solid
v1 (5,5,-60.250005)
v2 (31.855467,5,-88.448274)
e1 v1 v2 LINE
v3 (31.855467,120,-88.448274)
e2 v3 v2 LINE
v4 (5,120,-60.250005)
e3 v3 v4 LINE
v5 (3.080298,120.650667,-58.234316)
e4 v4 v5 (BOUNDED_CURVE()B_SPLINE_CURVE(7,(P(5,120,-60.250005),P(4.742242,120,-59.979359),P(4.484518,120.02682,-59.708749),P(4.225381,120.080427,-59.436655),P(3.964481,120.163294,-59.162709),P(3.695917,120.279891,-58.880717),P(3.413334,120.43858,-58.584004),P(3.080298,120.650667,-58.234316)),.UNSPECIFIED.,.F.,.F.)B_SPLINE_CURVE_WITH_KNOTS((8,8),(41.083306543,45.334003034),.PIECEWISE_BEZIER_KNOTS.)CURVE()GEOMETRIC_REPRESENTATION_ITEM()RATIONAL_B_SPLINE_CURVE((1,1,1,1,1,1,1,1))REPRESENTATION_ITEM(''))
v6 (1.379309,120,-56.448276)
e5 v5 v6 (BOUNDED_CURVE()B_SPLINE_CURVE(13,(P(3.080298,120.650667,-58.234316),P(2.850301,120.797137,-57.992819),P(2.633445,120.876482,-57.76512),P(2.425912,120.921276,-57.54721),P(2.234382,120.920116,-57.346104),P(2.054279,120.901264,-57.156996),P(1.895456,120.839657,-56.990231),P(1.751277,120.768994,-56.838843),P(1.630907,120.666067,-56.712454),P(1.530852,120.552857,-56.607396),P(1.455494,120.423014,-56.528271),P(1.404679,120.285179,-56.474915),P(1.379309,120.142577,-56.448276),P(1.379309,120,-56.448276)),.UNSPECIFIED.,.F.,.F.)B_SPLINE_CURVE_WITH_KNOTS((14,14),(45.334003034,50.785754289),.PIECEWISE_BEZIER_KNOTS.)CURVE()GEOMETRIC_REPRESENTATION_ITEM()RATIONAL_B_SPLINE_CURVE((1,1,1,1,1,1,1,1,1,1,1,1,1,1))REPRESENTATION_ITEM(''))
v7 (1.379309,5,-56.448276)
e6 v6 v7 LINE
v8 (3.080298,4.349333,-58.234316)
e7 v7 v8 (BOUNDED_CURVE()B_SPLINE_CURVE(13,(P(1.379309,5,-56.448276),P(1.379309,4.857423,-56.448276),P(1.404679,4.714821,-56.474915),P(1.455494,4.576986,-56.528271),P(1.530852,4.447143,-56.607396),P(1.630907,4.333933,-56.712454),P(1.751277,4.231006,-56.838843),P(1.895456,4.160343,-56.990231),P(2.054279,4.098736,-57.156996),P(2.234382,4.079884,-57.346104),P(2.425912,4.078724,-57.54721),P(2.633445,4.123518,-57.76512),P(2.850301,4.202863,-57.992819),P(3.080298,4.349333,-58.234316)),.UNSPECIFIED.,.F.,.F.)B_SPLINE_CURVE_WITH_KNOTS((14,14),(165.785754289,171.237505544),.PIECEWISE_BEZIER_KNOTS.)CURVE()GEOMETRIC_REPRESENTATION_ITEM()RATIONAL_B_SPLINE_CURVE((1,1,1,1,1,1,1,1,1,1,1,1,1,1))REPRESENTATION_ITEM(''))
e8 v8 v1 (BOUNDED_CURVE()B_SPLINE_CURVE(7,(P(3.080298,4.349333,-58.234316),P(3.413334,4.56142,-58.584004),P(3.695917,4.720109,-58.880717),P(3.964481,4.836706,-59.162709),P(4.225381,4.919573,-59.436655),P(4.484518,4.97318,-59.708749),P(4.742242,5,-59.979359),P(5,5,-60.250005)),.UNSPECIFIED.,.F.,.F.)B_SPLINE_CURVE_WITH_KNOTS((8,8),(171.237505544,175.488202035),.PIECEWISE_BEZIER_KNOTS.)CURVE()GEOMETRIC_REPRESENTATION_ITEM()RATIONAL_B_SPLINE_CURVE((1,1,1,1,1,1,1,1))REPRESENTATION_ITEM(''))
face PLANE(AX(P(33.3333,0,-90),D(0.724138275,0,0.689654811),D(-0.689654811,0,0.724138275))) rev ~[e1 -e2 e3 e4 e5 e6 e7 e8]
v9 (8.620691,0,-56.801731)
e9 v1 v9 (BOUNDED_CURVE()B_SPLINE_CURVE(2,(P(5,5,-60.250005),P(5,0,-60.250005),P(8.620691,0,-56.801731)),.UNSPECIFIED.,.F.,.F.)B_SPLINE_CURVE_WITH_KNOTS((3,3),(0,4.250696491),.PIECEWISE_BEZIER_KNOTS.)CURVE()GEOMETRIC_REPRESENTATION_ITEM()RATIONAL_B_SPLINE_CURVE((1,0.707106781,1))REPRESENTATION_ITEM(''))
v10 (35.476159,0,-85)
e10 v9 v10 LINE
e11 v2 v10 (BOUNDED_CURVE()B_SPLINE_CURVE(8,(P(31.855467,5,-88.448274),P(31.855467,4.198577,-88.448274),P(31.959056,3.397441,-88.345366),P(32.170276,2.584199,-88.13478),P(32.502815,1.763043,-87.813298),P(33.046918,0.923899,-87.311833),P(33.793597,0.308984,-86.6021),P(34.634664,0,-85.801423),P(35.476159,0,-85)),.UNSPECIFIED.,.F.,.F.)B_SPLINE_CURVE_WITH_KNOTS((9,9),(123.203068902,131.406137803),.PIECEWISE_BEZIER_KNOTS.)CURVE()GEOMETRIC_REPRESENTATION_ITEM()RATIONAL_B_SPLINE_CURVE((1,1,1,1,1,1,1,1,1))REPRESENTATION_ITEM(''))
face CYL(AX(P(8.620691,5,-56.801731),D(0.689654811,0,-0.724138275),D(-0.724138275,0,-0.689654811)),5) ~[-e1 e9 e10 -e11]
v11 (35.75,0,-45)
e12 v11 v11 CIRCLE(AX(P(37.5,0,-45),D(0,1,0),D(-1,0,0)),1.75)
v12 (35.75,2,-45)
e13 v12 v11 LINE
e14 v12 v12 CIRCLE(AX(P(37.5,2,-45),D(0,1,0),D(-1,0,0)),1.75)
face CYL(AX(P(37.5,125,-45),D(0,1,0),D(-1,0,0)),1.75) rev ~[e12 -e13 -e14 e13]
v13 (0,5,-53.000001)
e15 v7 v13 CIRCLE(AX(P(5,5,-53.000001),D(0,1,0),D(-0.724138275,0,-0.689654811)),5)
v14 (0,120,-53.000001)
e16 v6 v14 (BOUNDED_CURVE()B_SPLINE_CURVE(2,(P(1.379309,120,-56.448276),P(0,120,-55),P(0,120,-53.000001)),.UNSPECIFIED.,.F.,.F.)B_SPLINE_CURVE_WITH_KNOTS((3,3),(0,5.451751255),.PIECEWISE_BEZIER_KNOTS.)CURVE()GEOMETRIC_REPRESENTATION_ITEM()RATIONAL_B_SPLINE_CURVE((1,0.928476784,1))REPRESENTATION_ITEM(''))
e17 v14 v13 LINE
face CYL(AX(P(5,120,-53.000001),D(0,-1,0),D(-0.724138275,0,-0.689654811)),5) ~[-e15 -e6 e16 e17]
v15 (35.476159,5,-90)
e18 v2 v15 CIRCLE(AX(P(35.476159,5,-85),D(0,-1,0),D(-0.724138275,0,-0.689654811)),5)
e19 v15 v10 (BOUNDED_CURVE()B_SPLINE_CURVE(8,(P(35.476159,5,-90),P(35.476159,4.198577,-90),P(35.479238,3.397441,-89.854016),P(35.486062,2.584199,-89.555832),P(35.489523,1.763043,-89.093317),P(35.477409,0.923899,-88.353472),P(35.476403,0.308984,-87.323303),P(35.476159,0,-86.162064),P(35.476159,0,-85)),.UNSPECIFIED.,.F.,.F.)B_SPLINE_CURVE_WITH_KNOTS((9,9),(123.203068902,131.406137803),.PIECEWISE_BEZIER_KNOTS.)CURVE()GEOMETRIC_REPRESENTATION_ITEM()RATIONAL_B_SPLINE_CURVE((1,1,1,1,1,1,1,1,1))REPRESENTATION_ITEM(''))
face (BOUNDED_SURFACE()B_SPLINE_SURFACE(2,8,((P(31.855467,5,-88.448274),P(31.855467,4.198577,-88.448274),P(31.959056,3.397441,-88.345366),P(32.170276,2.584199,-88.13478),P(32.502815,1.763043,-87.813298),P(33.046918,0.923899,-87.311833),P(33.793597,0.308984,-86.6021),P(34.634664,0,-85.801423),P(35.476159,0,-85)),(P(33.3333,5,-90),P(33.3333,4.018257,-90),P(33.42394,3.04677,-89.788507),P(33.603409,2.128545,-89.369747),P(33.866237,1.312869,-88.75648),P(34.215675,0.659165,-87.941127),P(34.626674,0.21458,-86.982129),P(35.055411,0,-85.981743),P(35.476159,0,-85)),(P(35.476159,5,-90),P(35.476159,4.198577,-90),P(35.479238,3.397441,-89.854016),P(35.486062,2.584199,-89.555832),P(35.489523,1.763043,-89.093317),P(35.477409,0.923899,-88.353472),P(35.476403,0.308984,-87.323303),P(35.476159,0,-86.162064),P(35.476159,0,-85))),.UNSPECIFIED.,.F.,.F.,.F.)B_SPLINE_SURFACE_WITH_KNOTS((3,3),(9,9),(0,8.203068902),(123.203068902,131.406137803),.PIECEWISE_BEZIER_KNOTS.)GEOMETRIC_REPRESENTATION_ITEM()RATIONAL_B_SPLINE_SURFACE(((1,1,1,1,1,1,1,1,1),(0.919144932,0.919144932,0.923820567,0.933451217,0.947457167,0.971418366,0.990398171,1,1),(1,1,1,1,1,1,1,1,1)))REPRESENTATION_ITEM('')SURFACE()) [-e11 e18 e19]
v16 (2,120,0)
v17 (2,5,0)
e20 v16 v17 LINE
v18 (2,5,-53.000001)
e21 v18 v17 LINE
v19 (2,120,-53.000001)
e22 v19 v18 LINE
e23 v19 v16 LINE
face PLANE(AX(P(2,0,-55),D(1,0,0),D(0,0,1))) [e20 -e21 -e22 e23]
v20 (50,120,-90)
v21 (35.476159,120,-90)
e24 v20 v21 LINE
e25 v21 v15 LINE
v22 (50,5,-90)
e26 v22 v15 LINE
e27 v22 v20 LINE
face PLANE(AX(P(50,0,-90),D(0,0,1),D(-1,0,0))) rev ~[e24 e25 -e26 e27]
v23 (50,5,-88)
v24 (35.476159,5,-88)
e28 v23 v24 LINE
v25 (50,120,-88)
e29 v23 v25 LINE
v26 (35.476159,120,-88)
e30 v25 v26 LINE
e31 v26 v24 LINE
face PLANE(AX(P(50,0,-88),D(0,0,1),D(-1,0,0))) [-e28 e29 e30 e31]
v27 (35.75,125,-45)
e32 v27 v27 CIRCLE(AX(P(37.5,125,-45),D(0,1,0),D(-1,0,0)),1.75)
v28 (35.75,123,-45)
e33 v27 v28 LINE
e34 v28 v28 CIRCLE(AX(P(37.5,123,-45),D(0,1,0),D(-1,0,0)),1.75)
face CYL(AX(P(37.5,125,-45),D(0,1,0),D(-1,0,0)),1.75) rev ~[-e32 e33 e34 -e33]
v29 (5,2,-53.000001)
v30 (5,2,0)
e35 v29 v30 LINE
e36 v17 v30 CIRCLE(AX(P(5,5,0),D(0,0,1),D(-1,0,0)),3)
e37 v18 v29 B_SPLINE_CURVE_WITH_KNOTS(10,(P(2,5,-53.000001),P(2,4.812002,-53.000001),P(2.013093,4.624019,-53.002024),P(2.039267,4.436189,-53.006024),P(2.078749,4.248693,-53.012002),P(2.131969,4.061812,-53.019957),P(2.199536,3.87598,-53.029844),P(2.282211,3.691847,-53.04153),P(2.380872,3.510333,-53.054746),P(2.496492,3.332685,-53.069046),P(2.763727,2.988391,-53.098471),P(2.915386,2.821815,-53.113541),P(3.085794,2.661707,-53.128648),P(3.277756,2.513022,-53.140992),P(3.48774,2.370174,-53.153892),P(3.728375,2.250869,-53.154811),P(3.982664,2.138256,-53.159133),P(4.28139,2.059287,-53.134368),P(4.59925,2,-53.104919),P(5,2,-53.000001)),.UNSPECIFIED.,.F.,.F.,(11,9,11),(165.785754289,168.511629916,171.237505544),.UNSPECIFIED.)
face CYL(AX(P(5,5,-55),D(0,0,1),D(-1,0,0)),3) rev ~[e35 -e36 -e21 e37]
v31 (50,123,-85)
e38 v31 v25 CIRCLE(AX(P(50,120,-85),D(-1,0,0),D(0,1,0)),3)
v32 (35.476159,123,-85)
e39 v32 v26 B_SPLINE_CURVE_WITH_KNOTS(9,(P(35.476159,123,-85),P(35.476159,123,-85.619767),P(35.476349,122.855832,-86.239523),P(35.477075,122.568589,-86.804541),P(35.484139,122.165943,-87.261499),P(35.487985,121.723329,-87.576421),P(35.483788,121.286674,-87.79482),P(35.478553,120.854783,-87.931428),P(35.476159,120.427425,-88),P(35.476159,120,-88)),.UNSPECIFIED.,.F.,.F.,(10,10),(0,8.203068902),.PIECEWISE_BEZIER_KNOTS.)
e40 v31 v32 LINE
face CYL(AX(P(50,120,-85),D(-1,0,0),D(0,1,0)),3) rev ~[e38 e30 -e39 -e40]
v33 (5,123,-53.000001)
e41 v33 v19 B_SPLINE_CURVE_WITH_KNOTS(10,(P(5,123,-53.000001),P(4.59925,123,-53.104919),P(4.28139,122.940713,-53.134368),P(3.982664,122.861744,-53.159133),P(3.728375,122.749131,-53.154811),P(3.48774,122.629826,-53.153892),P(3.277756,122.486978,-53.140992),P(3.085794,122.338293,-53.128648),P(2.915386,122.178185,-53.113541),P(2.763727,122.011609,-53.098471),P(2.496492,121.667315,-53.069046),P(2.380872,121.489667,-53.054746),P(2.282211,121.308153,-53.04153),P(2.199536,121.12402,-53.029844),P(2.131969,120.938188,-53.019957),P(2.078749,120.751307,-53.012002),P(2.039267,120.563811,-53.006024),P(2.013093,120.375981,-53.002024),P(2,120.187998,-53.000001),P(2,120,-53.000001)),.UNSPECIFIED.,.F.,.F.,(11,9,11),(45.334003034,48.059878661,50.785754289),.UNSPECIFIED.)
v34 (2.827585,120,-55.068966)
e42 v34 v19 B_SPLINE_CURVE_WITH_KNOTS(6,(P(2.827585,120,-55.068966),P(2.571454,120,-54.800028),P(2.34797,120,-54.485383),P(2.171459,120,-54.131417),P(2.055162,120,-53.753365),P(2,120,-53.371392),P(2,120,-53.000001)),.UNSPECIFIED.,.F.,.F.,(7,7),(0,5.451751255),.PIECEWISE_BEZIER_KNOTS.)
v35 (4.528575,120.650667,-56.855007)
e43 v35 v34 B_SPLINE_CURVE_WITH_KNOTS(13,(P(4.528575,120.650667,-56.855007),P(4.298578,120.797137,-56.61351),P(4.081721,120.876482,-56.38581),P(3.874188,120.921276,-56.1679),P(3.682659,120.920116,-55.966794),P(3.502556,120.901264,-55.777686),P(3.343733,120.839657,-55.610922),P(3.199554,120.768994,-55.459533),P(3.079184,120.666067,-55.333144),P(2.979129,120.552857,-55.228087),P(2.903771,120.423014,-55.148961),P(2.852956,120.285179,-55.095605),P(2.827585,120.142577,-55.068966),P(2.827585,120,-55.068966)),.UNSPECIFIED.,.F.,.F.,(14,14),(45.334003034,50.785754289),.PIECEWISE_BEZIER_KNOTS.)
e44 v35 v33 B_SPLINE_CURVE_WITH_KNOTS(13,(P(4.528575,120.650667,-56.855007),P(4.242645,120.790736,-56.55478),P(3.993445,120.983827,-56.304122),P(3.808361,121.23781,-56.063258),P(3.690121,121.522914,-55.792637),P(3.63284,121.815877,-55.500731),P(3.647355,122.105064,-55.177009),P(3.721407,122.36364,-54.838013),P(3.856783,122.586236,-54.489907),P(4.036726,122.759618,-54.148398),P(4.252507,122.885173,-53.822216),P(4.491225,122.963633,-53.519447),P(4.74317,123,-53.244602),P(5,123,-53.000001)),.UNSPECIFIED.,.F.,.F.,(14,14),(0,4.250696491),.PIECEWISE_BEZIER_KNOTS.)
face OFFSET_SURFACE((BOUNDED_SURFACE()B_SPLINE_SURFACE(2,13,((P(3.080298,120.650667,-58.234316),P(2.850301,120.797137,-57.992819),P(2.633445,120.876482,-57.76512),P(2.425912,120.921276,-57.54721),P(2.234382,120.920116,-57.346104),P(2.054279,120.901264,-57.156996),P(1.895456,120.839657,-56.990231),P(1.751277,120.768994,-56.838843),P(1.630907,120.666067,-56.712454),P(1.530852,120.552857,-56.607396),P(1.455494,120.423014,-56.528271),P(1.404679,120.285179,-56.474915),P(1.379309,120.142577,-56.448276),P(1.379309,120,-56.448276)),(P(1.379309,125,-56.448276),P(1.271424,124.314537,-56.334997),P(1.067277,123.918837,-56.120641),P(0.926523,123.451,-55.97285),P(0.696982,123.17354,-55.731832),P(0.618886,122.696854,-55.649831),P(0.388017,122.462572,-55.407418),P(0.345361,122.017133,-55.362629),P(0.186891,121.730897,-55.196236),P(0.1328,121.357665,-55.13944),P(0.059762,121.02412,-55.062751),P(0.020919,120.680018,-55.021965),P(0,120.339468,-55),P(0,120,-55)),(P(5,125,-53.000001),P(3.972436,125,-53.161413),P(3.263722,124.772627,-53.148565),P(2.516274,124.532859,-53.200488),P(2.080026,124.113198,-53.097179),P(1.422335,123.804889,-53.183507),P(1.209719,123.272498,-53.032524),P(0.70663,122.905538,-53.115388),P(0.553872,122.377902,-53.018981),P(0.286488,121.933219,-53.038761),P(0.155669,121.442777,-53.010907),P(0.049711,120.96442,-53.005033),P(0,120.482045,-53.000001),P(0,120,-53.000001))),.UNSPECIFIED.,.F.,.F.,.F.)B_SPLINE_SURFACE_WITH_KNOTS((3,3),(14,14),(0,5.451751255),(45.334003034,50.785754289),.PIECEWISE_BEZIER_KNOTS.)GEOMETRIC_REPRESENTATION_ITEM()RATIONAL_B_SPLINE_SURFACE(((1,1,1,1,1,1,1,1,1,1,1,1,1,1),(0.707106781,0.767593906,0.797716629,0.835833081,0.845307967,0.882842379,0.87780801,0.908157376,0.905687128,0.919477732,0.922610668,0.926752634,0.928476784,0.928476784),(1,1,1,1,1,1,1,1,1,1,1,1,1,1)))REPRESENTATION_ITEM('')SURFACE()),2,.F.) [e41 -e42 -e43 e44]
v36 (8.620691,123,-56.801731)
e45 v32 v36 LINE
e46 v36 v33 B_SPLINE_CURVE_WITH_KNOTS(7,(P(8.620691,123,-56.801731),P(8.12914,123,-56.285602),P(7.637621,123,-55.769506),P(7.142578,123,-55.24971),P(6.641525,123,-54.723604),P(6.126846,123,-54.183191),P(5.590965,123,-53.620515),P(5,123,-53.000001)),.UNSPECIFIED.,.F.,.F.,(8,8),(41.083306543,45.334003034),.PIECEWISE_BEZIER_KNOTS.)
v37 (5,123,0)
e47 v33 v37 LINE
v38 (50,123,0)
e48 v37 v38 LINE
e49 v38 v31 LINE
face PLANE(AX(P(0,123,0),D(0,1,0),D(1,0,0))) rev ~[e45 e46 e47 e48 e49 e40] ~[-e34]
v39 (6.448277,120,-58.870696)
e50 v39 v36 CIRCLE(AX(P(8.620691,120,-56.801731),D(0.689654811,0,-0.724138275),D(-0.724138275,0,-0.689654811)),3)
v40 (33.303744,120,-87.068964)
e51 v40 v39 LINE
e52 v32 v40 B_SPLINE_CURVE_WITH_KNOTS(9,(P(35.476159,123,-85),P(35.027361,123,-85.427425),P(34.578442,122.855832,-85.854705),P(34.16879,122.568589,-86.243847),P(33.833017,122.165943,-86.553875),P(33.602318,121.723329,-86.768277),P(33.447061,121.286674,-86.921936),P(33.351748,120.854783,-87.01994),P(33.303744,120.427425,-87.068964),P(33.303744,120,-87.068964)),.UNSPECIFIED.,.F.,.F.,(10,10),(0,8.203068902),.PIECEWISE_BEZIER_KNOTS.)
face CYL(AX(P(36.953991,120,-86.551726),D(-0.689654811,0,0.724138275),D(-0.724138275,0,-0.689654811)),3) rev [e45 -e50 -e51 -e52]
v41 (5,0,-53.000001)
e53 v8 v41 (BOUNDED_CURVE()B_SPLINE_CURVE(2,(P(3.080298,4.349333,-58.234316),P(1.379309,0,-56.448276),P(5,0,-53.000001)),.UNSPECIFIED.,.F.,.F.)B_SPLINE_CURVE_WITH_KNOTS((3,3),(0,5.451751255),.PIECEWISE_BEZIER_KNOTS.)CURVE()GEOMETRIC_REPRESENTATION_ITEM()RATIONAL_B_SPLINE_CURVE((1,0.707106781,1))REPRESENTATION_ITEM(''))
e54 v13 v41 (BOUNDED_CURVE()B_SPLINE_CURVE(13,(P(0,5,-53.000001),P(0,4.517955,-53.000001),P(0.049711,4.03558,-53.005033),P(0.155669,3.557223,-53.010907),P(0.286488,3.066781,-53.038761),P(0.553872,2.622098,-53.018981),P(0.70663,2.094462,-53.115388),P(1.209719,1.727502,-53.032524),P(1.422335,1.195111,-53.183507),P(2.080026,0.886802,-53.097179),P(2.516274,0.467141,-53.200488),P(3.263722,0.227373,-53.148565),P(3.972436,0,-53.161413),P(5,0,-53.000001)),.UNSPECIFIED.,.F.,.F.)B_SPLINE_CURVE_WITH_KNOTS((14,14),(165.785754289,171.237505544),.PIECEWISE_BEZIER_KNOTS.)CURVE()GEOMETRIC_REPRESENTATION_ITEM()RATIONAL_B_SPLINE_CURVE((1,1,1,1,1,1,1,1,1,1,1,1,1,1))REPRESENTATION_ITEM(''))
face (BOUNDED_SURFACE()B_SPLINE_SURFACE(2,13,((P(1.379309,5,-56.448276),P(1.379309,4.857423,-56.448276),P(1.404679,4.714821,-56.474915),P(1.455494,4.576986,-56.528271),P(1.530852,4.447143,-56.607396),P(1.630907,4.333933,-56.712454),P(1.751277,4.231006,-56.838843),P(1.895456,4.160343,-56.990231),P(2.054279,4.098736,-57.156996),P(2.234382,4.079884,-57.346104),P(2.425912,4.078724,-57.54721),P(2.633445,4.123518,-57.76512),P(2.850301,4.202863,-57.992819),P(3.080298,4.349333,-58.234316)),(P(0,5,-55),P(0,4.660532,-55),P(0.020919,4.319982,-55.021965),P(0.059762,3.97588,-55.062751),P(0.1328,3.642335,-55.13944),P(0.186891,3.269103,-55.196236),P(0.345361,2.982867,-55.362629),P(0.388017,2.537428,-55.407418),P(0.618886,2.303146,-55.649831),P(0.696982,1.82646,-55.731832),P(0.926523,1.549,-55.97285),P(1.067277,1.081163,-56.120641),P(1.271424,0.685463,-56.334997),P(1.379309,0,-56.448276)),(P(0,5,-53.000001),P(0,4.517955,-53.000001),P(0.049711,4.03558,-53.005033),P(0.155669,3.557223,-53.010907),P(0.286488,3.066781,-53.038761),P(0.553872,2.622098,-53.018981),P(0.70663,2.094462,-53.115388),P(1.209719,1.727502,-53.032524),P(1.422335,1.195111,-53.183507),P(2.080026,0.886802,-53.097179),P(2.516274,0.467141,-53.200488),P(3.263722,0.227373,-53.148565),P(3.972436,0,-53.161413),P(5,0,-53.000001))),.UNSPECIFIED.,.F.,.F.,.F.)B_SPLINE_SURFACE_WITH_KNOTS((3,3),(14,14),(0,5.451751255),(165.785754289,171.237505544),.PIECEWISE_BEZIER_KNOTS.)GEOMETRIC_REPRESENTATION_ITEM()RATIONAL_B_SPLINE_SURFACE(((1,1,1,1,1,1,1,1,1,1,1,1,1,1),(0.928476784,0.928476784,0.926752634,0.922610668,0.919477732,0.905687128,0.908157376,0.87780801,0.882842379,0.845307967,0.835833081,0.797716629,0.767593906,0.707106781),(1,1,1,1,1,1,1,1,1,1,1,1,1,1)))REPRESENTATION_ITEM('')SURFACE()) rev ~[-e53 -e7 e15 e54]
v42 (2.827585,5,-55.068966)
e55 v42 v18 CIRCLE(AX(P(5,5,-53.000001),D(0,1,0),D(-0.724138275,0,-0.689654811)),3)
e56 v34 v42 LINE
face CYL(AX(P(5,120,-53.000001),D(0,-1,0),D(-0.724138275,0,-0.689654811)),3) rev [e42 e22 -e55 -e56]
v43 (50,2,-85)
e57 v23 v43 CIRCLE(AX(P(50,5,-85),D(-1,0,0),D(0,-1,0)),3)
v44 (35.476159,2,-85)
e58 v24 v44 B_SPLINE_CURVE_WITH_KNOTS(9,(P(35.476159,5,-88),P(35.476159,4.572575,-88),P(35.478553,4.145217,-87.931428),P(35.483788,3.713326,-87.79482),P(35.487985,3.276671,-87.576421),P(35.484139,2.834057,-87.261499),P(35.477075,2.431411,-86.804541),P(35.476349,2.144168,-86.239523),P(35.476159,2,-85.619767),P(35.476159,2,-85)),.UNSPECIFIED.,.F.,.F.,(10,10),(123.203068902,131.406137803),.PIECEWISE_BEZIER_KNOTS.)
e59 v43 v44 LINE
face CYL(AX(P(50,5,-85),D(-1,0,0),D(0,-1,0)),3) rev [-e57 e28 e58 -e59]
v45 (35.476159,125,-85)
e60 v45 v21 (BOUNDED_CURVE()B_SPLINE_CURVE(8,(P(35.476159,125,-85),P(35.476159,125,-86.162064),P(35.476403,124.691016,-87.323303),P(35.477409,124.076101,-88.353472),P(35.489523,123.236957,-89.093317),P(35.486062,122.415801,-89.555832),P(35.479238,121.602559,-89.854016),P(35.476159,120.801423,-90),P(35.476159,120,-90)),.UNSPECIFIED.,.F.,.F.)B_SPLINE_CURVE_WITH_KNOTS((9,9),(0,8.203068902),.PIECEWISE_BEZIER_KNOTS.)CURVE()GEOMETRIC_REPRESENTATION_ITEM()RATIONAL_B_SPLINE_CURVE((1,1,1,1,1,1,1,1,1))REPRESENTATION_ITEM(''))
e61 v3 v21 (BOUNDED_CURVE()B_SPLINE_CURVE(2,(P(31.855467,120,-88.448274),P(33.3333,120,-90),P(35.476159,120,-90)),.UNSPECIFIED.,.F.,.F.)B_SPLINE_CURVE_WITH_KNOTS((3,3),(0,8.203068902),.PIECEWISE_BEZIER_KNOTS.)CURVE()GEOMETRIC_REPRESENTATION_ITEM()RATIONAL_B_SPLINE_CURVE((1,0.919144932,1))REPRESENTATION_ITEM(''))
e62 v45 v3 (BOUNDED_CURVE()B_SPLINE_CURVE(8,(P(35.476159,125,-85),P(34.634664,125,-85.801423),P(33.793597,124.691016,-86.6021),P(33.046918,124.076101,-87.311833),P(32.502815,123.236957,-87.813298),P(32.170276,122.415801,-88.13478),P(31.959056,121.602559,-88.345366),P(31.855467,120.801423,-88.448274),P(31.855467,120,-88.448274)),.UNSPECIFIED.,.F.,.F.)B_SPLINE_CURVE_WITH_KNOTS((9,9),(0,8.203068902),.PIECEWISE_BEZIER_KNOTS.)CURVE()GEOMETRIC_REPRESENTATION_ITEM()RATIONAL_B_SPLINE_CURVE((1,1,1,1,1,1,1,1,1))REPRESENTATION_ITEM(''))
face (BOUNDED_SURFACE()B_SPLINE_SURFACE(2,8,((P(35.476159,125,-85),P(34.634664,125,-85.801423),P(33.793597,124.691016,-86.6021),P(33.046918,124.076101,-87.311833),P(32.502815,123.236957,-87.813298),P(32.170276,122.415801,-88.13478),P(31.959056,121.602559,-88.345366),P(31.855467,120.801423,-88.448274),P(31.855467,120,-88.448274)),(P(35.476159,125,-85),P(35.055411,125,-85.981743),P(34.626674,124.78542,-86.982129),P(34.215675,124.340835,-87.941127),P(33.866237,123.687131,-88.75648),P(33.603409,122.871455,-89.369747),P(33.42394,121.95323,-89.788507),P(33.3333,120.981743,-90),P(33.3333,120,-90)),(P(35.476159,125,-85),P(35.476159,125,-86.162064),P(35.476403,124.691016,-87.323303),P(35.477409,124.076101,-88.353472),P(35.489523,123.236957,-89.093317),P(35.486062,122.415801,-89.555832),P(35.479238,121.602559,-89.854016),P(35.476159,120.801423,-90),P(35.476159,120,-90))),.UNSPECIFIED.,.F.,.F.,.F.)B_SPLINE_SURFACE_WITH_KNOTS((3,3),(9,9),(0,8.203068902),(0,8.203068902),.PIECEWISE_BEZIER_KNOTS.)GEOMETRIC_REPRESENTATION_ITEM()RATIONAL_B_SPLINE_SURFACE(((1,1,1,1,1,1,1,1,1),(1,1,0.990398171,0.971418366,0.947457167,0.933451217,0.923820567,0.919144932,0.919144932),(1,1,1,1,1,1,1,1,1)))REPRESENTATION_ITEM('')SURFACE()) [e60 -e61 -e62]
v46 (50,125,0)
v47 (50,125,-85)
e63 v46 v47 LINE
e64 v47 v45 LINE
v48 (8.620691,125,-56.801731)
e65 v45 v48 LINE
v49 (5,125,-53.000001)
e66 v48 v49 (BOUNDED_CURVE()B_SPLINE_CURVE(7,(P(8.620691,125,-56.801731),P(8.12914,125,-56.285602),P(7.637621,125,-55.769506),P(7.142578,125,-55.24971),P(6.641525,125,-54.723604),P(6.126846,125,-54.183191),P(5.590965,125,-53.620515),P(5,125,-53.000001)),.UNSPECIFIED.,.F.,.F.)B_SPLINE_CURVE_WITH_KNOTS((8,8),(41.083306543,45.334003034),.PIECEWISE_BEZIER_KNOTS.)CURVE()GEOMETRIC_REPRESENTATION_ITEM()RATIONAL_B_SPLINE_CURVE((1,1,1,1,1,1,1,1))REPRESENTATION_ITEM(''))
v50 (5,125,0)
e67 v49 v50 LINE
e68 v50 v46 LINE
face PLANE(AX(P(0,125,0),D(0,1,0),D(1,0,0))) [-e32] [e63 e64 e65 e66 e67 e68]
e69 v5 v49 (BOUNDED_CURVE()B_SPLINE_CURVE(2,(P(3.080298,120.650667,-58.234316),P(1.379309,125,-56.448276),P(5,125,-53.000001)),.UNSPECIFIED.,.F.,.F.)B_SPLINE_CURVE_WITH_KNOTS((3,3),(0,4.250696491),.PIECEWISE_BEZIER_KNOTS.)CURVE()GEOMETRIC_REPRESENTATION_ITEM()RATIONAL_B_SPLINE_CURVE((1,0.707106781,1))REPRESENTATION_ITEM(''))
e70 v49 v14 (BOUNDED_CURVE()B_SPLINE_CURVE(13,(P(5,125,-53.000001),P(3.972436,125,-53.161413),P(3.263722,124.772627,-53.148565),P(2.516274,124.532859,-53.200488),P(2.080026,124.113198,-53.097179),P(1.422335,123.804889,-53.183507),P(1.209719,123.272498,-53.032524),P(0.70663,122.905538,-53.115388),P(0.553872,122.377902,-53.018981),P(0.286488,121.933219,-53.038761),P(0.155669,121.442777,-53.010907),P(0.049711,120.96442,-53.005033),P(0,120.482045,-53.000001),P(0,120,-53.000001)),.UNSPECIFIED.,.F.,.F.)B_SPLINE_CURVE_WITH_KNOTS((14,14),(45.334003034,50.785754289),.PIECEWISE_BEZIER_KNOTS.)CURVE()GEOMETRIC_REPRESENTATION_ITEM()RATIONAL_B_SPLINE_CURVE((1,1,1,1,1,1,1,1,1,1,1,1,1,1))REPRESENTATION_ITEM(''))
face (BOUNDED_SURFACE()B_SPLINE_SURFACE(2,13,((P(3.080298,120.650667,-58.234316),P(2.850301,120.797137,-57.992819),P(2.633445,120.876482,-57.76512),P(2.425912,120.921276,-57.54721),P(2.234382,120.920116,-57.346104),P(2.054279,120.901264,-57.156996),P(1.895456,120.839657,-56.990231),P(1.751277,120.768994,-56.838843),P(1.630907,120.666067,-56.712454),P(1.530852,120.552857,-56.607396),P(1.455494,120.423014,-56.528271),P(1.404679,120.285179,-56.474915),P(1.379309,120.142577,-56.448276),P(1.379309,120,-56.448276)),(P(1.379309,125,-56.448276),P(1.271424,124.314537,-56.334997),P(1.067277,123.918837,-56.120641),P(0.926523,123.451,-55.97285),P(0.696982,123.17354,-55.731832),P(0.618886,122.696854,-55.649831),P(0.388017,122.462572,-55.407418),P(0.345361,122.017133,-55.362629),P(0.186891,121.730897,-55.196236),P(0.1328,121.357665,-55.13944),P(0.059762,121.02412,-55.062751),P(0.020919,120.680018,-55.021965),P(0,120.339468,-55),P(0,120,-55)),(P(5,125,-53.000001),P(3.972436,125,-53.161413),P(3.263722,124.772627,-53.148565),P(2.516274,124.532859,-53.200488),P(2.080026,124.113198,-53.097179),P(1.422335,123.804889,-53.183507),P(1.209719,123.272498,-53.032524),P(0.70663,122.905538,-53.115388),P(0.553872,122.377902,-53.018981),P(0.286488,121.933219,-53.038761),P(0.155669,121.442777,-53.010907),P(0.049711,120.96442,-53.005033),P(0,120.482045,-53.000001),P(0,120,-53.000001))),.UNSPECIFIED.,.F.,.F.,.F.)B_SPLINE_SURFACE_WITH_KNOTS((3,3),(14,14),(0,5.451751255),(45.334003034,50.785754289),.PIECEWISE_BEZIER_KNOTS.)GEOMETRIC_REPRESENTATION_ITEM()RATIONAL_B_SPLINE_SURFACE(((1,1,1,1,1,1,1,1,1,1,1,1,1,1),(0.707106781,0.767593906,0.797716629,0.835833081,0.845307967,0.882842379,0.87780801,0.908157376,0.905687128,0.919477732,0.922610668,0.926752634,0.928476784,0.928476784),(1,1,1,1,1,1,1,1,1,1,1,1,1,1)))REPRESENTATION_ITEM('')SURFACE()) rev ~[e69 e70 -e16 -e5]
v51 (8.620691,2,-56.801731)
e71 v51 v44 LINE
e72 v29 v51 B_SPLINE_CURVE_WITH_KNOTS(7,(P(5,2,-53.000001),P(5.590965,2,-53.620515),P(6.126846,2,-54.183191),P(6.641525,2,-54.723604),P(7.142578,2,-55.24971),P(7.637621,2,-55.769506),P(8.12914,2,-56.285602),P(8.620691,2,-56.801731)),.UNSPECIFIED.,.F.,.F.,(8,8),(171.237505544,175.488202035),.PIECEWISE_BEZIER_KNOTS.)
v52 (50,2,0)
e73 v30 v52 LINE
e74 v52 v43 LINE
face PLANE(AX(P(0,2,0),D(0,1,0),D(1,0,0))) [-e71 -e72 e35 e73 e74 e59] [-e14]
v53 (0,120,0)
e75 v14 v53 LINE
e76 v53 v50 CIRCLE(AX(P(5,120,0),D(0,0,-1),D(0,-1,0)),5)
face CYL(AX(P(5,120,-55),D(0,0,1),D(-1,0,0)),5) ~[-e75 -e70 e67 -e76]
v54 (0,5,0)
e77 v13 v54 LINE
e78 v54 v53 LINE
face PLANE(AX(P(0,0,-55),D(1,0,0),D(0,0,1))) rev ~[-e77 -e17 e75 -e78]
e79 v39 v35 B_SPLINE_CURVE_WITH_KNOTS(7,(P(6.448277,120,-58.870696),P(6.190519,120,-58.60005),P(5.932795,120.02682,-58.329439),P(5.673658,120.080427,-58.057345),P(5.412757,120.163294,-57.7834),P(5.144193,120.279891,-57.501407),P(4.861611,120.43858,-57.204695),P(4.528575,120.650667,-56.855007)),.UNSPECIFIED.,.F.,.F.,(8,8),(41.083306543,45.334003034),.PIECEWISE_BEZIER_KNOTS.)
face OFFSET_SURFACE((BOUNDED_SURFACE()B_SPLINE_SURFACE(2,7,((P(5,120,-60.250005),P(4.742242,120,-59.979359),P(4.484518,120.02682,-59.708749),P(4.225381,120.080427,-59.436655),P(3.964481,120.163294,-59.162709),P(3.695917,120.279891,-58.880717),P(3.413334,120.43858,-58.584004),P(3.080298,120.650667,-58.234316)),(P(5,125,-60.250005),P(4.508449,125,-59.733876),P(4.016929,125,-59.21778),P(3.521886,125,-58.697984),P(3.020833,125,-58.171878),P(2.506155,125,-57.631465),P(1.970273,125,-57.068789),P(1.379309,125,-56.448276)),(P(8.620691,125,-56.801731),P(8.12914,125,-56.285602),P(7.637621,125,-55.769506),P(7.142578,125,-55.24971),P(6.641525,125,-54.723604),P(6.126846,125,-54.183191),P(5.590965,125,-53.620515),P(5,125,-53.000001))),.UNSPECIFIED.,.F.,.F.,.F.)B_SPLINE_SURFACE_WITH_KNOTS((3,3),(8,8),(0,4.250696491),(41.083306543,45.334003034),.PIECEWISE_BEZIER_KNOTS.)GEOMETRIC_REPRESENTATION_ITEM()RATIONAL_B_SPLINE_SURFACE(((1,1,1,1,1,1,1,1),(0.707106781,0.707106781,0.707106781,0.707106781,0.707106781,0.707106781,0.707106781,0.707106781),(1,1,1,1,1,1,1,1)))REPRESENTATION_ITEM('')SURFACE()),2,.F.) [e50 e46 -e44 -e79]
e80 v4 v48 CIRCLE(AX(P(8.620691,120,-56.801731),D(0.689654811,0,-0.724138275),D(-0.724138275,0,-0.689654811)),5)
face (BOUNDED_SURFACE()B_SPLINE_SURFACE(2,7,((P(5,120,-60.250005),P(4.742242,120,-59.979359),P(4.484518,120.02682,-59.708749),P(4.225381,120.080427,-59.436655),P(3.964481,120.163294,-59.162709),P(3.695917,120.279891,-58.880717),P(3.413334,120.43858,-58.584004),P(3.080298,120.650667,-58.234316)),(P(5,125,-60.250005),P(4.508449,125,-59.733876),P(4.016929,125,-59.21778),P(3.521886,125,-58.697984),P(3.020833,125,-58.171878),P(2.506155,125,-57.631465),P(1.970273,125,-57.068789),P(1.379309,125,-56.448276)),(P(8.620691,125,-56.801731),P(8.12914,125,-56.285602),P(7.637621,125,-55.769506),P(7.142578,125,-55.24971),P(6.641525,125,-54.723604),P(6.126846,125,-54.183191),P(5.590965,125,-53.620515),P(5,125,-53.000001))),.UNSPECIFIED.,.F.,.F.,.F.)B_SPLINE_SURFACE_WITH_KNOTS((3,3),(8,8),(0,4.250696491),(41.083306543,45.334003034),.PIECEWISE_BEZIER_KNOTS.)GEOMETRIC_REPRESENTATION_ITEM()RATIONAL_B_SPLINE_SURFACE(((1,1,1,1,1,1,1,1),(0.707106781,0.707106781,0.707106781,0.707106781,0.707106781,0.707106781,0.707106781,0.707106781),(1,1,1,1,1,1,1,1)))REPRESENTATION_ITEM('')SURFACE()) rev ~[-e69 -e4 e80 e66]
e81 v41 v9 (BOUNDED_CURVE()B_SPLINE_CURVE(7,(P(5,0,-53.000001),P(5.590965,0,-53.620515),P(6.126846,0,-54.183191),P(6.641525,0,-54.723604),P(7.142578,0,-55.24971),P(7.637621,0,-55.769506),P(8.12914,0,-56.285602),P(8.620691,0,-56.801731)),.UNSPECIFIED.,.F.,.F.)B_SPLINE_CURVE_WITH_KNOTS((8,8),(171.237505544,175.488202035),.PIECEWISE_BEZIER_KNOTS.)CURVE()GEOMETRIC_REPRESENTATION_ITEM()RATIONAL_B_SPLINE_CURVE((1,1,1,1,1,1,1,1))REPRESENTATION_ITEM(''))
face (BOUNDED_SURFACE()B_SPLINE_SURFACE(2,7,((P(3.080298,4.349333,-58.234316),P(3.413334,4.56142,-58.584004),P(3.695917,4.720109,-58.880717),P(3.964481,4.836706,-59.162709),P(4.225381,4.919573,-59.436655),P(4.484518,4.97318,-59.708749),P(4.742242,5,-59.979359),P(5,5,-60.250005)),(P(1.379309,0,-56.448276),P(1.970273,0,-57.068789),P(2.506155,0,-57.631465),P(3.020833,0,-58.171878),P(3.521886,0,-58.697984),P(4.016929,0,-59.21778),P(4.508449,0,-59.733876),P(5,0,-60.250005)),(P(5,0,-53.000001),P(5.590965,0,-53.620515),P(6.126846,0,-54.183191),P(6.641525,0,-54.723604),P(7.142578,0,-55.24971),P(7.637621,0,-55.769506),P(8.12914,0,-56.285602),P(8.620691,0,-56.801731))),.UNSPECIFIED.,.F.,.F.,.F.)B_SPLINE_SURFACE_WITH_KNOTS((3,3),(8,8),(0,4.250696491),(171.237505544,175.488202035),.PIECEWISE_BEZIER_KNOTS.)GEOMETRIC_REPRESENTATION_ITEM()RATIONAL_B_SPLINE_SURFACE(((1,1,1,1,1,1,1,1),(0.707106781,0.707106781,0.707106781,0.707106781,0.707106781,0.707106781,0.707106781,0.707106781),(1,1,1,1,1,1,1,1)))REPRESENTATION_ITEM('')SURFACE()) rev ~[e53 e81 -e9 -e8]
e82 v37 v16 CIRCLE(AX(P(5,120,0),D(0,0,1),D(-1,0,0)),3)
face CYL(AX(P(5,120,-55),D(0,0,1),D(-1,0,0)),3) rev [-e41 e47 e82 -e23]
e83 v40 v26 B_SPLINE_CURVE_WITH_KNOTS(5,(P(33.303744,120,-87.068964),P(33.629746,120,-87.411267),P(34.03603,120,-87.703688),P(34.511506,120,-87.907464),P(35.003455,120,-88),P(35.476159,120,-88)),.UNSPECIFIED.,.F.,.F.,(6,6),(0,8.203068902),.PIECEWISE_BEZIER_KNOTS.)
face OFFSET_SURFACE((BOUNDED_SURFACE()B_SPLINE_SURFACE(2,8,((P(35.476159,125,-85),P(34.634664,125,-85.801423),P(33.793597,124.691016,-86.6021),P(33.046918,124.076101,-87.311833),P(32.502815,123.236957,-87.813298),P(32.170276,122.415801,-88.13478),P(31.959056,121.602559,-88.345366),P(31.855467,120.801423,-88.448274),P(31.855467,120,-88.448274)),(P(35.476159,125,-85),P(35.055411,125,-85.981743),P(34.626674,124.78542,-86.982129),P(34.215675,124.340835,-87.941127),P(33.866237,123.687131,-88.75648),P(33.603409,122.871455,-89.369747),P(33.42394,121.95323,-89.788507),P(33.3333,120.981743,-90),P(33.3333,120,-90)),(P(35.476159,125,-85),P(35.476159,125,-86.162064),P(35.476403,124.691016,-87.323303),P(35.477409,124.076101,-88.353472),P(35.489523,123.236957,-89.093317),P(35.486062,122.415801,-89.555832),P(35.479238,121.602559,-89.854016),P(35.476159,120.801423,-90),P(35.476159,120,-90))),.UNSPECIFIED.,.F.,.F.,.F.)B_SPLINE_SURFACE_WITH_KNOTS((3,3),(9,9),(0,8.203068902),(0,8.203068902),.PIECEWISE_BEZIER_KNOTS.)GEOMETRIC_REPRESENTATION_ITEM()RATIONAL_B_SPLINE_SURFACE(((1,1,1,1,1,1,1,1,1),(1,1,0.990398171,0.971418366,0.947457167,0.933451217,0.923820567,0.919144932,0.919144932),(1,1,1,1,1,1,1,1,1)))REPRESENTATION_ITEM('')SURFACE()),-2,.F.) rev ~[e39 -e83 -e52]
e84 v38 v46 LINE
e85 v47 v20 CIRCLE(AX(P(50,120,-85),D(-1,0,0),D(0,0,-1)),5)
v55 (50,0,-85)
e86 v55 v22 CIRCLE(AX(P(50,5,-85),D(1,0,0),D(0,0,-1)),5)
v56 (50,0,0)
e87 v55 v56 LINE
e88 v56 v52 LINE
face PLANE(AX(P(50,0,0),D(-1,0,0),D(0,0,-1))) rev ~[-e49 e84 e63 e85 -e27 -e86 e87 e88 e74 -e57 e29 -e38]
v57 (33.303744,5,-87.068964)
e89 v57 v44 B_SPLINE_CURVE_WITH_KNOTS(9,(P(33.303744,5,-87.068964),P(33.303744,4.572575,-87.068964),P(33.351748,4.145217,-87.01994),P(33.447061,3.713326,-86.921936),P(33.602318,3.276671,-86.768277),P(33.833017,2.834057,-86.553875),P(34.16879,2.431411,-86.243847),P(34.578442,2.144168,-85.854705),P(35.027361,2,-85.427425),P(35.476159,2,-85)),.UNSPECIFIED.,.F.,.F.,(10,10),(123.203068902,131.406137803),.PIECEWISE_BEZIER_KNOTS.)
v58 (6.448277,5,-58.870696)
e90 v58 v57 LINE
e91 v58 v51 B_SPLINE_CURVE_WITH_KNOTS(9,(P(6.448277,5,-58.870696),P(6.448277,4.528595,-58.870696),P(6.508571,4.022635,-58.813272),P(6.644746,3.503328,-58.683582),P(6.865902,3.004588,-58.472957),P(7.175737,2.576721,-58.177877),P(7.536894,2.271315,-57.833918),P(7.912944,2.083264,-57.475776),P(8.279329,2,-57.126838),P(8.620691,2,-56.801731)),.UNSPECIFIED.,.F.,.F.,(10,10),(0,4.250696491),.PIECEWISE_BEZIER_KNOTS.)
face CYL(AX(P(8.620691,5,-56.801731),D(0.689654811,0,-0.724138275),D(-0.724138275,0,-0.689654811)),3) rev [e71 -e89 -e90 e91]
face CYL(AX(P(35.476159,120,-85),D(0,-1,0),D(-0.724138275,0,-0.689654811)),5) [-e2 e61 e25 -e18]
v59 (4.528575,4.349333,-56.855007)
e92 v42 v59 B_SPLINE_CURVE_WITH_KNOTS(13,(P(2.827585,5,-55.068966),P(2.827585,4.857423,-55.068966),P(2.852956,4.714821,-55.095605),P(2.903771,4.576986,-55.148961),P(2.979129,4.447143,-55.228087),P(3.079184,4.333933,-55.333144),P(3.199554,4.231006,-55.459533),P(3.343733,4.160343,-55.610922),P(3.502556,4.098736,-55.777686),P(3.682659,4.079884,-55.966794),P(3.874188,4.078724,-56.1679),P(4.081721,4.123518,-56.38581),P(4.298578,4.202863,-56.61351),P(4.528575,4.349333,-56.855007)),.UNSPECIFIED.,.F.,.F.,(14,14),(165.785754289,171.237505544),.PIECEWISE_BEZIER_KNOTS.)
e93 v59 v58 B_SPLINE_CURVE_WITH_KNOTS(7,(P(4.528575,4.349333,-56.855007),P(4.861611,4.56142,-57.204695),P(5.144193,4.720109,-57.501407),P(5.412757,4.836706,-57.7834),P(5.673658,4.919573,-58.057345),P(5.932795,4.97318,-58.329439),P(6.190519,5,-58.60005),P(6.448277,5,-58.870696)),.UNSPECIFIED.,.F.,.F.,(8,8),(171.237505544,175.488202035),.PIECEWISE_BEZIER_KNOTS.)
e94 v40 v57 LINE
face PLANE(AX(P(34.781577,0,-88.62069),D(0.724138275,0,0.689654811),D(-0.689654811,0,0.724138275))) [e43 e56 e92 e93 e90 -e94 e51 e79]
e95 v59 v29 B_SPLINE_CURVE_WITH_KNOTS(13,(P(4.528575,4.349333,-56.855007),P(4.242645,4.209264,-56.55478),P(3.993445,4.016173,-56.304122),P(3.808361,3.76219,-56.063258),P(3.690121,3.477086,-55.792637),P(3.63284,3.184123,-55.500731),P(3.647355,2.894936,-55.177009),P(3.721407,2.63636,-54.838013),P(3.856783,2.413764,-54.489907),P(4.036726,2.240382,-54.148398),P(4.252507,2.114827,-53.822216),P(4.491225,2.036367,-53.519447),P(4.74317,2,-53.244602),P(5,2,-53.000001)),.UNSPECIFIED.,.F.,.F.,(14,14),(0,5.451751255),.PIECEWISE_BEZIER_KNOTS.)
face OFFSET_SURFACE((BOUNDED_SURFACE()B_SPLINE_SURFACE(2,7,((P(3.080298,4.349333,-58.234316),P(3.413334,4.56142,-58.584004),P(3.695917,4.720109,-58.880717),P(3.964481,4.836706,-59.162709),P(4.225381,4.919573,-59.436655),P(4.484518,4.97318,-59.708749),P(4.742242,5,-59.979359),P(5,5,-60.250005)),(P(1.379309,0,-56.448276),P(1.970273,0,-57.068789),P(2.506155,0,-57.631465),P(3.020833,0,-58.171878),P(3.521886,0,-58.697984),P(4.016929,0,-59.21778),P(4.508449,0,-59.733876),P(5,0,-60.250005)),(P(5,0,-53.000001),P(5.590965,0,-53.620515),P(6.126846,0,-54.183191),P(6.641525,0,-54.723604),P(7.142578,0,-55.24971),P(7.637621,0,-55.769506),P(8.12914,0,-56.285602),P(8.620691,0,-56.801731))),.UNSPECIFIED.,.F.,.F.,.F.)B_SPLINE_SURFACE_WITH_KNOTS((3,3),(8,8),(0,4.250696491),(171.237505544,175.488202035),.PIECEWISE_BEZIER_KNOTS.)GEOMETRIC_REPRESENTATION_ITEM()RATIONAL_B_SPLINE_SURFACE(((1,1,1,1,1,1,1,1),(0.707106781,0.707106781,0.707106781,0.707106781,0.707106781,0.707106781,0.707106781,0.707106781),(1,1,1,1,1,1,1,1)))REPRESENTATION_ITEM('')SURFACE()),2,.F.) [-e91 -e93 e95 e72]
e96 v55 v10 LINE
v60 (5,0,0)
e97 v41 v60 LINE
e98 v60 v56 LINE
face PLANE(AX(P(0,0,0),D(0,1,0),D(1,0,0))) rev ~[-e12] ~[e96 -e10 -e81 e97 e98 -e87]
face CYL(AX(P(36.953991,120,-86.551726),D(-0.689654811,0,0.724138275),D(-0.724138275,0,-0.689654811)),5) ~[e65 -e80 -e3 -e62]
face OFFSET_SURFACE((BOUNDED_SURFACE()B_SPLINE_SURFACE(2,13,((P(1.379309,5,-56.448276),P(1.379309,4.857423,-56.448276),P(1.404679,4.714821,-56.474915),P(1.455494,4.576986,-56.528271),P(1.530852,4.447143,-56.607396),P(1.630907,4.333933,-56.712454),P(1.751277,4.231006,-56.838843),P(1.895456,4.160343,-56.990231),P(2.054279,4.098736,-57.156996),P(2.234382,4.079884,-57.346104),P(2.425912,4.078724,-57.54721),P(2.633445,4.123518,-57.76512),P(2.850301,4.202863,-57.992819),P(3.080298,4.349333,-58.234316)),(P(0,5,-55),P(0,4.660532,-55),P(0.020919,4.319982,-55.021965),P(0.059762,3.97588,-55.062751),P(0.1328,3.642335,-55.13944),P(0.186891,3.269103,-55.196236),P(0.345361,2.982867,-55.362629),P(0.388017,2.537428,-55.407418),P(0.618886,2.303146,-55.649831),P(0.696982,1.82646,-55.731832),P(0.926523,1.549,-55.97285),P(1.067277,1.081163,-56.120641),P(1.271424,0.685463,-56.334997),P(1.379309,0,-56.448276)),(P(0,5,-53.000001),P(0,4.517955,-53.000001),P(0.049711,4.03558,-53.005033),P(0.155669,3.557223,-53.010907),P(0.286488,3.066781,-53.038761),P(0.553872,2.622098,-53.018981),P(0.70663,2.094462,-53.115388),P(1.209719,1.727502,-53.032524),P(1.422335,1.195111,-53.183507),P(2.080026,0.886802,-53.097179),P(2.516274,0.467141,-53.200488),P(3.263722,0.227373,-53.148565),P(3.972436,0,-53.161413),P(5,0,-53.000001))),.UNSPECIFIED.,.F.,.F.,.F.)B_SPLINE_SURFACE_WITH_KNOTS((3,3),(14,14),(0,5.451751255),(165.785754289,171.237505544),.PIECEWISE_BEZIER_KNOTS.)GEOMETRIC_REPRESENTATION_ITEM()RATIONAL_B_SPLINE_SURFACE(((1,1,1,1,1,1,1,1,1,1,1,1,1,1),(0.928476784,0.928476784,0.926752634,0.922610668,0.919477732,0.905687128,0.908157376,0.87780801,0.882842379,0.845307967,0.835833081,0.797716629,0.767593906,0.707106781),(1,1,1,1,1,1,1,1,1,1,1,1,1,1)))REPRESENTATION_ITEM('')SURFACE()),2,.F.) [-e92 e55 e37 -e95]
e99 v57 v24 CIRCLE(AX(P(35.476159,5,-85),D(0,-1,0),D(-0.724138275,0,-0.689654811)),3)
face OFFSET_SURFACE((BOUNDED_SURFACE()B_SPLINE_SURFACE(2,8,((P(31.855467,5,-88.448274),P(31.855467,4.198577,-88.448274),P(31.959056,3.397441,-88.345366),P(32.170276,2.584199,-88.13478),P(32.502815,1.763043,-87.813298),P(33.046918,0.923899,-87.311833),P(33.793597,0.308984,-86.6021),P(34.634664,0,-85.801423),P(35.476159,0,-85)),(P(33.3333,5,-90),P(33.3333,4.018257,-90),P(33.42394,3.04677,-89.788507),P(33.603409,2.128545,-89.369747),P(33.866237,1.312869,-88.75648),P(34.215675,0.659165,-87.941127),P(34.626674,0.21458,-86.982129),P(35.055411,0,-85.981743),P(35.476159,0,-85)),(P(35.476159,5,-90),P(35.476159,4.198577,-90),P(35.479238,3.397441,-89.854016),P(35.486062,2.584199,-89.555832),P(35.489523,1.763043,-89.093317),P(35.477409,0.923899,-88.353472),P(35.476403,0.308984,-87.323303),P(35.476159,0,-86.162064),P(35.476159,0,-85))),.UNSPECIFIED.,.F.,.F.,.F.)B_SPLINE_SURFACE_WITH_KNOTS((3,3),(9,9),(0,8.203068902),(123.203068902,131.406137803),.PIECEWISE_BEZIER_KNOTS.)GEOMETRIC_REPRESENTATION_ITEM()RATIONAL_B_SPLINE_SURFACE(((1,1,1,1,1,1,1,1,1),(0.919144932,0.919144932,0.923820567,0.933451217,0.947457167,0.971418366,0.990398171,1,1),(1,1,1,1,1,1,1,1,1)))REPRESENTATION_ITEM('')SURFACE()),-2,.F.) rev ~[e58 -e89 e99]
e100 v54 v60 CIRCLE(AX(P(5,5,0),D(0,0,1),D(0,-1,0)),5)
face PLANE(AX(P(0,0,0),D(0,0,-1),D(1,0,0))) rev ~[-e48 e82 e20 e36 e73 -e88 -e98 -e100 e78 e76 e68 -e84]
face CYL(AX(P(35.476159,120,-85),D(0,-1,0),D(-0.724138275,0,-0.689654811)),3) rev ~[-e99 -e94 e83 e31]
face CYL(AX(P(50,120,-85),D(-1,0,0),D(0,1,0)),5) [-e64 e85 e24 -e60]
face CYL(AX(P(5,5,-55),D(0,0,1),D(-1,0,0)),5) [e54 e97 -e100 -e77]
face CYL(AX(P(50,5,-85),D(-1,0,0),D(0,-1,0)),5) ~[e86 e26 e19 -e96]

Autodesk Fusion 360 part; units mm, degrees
sketch "Sketch1" plane through (0, 0, 0) normal (0, 1, 0) x (1, 0, 0)
  line L0 (0, 0) -> (50, 0)
  line L1 (50, 0) -> (50, 55)
  line L2 (50, 55) -> (0, 55)
  line L3 (0, 55) -> (0, 0)
  line L4 (50, 55) -> (50, 90)
  line L5 (50, 90) -> (33.3333, 90)
  line L6 (33.3333, 90) -> (0, 55)
  line L7 (28, 76) -> (28, -7.4569) construction
  point P0 (28, 84.4)
  dimension "d1" = 50
  dimension "d2" = 55
  dimension "d3" = 35
  dimension "d4" = 16.6667
  dimension "d17" = 22
extrude "Extrude1" add sketch "Sketch1" along normal blind 125
fillet "Fillet1" radius 5 1 edges at (0, 125, -27.5)
fillet "Fillet2" radius 5 1 edges at (0, 0, -27.5)
fillet "Fillet3" radius 5 7 edges at (19.1667, 125, -75.125) (1.4645, 123.5355, -56.5377) (0, 62.5, -55) (1.4645, 1.4645, -56.5377) (19.1667, 0, -75.125) (41.6667, 125, -90) (41.6667, 0, -90)
fillet "Fillet4" radius 5 3 edges at (33.961, 1.4645, -88.5355) (33.3333, 62.5, -90) (33.961, 123.5355, -88.5355)
shell "Shell1" thickness 2 removed faces 2 at (50, 43.3333, -30) at (33.3333, 81.6667, 0)
sketch "Sketch2" plane through (0, 125, 0) normal (0, 1, 0) x (-1, 0, 0)
  line L0 (-50, -85) -> (-35.4762, -85)
  line L1 (-35.4762, -85) -> (-5, -53)
  line L2 (-5, -53) -> (-5, 0)
  line L3 (-5, 0) -> (-50, 0)
  line L4 (-50, 0) -> (-50, -85)
  line L5 (0, 0) -> (-50, 0)
  line L6 (-5, -53) -> (0, -53)
  circle A0 centre (-37.5, -45) radius 1.75
  dimension "d12" = 3.5
  dimension "d13" = 12.5
  dimension "d16" = 45
extrude "Extrude2" cut sketch "Sketch2" against normal up to surface (125 mm away) contours A0
equation "d4 = d1 / 3"
